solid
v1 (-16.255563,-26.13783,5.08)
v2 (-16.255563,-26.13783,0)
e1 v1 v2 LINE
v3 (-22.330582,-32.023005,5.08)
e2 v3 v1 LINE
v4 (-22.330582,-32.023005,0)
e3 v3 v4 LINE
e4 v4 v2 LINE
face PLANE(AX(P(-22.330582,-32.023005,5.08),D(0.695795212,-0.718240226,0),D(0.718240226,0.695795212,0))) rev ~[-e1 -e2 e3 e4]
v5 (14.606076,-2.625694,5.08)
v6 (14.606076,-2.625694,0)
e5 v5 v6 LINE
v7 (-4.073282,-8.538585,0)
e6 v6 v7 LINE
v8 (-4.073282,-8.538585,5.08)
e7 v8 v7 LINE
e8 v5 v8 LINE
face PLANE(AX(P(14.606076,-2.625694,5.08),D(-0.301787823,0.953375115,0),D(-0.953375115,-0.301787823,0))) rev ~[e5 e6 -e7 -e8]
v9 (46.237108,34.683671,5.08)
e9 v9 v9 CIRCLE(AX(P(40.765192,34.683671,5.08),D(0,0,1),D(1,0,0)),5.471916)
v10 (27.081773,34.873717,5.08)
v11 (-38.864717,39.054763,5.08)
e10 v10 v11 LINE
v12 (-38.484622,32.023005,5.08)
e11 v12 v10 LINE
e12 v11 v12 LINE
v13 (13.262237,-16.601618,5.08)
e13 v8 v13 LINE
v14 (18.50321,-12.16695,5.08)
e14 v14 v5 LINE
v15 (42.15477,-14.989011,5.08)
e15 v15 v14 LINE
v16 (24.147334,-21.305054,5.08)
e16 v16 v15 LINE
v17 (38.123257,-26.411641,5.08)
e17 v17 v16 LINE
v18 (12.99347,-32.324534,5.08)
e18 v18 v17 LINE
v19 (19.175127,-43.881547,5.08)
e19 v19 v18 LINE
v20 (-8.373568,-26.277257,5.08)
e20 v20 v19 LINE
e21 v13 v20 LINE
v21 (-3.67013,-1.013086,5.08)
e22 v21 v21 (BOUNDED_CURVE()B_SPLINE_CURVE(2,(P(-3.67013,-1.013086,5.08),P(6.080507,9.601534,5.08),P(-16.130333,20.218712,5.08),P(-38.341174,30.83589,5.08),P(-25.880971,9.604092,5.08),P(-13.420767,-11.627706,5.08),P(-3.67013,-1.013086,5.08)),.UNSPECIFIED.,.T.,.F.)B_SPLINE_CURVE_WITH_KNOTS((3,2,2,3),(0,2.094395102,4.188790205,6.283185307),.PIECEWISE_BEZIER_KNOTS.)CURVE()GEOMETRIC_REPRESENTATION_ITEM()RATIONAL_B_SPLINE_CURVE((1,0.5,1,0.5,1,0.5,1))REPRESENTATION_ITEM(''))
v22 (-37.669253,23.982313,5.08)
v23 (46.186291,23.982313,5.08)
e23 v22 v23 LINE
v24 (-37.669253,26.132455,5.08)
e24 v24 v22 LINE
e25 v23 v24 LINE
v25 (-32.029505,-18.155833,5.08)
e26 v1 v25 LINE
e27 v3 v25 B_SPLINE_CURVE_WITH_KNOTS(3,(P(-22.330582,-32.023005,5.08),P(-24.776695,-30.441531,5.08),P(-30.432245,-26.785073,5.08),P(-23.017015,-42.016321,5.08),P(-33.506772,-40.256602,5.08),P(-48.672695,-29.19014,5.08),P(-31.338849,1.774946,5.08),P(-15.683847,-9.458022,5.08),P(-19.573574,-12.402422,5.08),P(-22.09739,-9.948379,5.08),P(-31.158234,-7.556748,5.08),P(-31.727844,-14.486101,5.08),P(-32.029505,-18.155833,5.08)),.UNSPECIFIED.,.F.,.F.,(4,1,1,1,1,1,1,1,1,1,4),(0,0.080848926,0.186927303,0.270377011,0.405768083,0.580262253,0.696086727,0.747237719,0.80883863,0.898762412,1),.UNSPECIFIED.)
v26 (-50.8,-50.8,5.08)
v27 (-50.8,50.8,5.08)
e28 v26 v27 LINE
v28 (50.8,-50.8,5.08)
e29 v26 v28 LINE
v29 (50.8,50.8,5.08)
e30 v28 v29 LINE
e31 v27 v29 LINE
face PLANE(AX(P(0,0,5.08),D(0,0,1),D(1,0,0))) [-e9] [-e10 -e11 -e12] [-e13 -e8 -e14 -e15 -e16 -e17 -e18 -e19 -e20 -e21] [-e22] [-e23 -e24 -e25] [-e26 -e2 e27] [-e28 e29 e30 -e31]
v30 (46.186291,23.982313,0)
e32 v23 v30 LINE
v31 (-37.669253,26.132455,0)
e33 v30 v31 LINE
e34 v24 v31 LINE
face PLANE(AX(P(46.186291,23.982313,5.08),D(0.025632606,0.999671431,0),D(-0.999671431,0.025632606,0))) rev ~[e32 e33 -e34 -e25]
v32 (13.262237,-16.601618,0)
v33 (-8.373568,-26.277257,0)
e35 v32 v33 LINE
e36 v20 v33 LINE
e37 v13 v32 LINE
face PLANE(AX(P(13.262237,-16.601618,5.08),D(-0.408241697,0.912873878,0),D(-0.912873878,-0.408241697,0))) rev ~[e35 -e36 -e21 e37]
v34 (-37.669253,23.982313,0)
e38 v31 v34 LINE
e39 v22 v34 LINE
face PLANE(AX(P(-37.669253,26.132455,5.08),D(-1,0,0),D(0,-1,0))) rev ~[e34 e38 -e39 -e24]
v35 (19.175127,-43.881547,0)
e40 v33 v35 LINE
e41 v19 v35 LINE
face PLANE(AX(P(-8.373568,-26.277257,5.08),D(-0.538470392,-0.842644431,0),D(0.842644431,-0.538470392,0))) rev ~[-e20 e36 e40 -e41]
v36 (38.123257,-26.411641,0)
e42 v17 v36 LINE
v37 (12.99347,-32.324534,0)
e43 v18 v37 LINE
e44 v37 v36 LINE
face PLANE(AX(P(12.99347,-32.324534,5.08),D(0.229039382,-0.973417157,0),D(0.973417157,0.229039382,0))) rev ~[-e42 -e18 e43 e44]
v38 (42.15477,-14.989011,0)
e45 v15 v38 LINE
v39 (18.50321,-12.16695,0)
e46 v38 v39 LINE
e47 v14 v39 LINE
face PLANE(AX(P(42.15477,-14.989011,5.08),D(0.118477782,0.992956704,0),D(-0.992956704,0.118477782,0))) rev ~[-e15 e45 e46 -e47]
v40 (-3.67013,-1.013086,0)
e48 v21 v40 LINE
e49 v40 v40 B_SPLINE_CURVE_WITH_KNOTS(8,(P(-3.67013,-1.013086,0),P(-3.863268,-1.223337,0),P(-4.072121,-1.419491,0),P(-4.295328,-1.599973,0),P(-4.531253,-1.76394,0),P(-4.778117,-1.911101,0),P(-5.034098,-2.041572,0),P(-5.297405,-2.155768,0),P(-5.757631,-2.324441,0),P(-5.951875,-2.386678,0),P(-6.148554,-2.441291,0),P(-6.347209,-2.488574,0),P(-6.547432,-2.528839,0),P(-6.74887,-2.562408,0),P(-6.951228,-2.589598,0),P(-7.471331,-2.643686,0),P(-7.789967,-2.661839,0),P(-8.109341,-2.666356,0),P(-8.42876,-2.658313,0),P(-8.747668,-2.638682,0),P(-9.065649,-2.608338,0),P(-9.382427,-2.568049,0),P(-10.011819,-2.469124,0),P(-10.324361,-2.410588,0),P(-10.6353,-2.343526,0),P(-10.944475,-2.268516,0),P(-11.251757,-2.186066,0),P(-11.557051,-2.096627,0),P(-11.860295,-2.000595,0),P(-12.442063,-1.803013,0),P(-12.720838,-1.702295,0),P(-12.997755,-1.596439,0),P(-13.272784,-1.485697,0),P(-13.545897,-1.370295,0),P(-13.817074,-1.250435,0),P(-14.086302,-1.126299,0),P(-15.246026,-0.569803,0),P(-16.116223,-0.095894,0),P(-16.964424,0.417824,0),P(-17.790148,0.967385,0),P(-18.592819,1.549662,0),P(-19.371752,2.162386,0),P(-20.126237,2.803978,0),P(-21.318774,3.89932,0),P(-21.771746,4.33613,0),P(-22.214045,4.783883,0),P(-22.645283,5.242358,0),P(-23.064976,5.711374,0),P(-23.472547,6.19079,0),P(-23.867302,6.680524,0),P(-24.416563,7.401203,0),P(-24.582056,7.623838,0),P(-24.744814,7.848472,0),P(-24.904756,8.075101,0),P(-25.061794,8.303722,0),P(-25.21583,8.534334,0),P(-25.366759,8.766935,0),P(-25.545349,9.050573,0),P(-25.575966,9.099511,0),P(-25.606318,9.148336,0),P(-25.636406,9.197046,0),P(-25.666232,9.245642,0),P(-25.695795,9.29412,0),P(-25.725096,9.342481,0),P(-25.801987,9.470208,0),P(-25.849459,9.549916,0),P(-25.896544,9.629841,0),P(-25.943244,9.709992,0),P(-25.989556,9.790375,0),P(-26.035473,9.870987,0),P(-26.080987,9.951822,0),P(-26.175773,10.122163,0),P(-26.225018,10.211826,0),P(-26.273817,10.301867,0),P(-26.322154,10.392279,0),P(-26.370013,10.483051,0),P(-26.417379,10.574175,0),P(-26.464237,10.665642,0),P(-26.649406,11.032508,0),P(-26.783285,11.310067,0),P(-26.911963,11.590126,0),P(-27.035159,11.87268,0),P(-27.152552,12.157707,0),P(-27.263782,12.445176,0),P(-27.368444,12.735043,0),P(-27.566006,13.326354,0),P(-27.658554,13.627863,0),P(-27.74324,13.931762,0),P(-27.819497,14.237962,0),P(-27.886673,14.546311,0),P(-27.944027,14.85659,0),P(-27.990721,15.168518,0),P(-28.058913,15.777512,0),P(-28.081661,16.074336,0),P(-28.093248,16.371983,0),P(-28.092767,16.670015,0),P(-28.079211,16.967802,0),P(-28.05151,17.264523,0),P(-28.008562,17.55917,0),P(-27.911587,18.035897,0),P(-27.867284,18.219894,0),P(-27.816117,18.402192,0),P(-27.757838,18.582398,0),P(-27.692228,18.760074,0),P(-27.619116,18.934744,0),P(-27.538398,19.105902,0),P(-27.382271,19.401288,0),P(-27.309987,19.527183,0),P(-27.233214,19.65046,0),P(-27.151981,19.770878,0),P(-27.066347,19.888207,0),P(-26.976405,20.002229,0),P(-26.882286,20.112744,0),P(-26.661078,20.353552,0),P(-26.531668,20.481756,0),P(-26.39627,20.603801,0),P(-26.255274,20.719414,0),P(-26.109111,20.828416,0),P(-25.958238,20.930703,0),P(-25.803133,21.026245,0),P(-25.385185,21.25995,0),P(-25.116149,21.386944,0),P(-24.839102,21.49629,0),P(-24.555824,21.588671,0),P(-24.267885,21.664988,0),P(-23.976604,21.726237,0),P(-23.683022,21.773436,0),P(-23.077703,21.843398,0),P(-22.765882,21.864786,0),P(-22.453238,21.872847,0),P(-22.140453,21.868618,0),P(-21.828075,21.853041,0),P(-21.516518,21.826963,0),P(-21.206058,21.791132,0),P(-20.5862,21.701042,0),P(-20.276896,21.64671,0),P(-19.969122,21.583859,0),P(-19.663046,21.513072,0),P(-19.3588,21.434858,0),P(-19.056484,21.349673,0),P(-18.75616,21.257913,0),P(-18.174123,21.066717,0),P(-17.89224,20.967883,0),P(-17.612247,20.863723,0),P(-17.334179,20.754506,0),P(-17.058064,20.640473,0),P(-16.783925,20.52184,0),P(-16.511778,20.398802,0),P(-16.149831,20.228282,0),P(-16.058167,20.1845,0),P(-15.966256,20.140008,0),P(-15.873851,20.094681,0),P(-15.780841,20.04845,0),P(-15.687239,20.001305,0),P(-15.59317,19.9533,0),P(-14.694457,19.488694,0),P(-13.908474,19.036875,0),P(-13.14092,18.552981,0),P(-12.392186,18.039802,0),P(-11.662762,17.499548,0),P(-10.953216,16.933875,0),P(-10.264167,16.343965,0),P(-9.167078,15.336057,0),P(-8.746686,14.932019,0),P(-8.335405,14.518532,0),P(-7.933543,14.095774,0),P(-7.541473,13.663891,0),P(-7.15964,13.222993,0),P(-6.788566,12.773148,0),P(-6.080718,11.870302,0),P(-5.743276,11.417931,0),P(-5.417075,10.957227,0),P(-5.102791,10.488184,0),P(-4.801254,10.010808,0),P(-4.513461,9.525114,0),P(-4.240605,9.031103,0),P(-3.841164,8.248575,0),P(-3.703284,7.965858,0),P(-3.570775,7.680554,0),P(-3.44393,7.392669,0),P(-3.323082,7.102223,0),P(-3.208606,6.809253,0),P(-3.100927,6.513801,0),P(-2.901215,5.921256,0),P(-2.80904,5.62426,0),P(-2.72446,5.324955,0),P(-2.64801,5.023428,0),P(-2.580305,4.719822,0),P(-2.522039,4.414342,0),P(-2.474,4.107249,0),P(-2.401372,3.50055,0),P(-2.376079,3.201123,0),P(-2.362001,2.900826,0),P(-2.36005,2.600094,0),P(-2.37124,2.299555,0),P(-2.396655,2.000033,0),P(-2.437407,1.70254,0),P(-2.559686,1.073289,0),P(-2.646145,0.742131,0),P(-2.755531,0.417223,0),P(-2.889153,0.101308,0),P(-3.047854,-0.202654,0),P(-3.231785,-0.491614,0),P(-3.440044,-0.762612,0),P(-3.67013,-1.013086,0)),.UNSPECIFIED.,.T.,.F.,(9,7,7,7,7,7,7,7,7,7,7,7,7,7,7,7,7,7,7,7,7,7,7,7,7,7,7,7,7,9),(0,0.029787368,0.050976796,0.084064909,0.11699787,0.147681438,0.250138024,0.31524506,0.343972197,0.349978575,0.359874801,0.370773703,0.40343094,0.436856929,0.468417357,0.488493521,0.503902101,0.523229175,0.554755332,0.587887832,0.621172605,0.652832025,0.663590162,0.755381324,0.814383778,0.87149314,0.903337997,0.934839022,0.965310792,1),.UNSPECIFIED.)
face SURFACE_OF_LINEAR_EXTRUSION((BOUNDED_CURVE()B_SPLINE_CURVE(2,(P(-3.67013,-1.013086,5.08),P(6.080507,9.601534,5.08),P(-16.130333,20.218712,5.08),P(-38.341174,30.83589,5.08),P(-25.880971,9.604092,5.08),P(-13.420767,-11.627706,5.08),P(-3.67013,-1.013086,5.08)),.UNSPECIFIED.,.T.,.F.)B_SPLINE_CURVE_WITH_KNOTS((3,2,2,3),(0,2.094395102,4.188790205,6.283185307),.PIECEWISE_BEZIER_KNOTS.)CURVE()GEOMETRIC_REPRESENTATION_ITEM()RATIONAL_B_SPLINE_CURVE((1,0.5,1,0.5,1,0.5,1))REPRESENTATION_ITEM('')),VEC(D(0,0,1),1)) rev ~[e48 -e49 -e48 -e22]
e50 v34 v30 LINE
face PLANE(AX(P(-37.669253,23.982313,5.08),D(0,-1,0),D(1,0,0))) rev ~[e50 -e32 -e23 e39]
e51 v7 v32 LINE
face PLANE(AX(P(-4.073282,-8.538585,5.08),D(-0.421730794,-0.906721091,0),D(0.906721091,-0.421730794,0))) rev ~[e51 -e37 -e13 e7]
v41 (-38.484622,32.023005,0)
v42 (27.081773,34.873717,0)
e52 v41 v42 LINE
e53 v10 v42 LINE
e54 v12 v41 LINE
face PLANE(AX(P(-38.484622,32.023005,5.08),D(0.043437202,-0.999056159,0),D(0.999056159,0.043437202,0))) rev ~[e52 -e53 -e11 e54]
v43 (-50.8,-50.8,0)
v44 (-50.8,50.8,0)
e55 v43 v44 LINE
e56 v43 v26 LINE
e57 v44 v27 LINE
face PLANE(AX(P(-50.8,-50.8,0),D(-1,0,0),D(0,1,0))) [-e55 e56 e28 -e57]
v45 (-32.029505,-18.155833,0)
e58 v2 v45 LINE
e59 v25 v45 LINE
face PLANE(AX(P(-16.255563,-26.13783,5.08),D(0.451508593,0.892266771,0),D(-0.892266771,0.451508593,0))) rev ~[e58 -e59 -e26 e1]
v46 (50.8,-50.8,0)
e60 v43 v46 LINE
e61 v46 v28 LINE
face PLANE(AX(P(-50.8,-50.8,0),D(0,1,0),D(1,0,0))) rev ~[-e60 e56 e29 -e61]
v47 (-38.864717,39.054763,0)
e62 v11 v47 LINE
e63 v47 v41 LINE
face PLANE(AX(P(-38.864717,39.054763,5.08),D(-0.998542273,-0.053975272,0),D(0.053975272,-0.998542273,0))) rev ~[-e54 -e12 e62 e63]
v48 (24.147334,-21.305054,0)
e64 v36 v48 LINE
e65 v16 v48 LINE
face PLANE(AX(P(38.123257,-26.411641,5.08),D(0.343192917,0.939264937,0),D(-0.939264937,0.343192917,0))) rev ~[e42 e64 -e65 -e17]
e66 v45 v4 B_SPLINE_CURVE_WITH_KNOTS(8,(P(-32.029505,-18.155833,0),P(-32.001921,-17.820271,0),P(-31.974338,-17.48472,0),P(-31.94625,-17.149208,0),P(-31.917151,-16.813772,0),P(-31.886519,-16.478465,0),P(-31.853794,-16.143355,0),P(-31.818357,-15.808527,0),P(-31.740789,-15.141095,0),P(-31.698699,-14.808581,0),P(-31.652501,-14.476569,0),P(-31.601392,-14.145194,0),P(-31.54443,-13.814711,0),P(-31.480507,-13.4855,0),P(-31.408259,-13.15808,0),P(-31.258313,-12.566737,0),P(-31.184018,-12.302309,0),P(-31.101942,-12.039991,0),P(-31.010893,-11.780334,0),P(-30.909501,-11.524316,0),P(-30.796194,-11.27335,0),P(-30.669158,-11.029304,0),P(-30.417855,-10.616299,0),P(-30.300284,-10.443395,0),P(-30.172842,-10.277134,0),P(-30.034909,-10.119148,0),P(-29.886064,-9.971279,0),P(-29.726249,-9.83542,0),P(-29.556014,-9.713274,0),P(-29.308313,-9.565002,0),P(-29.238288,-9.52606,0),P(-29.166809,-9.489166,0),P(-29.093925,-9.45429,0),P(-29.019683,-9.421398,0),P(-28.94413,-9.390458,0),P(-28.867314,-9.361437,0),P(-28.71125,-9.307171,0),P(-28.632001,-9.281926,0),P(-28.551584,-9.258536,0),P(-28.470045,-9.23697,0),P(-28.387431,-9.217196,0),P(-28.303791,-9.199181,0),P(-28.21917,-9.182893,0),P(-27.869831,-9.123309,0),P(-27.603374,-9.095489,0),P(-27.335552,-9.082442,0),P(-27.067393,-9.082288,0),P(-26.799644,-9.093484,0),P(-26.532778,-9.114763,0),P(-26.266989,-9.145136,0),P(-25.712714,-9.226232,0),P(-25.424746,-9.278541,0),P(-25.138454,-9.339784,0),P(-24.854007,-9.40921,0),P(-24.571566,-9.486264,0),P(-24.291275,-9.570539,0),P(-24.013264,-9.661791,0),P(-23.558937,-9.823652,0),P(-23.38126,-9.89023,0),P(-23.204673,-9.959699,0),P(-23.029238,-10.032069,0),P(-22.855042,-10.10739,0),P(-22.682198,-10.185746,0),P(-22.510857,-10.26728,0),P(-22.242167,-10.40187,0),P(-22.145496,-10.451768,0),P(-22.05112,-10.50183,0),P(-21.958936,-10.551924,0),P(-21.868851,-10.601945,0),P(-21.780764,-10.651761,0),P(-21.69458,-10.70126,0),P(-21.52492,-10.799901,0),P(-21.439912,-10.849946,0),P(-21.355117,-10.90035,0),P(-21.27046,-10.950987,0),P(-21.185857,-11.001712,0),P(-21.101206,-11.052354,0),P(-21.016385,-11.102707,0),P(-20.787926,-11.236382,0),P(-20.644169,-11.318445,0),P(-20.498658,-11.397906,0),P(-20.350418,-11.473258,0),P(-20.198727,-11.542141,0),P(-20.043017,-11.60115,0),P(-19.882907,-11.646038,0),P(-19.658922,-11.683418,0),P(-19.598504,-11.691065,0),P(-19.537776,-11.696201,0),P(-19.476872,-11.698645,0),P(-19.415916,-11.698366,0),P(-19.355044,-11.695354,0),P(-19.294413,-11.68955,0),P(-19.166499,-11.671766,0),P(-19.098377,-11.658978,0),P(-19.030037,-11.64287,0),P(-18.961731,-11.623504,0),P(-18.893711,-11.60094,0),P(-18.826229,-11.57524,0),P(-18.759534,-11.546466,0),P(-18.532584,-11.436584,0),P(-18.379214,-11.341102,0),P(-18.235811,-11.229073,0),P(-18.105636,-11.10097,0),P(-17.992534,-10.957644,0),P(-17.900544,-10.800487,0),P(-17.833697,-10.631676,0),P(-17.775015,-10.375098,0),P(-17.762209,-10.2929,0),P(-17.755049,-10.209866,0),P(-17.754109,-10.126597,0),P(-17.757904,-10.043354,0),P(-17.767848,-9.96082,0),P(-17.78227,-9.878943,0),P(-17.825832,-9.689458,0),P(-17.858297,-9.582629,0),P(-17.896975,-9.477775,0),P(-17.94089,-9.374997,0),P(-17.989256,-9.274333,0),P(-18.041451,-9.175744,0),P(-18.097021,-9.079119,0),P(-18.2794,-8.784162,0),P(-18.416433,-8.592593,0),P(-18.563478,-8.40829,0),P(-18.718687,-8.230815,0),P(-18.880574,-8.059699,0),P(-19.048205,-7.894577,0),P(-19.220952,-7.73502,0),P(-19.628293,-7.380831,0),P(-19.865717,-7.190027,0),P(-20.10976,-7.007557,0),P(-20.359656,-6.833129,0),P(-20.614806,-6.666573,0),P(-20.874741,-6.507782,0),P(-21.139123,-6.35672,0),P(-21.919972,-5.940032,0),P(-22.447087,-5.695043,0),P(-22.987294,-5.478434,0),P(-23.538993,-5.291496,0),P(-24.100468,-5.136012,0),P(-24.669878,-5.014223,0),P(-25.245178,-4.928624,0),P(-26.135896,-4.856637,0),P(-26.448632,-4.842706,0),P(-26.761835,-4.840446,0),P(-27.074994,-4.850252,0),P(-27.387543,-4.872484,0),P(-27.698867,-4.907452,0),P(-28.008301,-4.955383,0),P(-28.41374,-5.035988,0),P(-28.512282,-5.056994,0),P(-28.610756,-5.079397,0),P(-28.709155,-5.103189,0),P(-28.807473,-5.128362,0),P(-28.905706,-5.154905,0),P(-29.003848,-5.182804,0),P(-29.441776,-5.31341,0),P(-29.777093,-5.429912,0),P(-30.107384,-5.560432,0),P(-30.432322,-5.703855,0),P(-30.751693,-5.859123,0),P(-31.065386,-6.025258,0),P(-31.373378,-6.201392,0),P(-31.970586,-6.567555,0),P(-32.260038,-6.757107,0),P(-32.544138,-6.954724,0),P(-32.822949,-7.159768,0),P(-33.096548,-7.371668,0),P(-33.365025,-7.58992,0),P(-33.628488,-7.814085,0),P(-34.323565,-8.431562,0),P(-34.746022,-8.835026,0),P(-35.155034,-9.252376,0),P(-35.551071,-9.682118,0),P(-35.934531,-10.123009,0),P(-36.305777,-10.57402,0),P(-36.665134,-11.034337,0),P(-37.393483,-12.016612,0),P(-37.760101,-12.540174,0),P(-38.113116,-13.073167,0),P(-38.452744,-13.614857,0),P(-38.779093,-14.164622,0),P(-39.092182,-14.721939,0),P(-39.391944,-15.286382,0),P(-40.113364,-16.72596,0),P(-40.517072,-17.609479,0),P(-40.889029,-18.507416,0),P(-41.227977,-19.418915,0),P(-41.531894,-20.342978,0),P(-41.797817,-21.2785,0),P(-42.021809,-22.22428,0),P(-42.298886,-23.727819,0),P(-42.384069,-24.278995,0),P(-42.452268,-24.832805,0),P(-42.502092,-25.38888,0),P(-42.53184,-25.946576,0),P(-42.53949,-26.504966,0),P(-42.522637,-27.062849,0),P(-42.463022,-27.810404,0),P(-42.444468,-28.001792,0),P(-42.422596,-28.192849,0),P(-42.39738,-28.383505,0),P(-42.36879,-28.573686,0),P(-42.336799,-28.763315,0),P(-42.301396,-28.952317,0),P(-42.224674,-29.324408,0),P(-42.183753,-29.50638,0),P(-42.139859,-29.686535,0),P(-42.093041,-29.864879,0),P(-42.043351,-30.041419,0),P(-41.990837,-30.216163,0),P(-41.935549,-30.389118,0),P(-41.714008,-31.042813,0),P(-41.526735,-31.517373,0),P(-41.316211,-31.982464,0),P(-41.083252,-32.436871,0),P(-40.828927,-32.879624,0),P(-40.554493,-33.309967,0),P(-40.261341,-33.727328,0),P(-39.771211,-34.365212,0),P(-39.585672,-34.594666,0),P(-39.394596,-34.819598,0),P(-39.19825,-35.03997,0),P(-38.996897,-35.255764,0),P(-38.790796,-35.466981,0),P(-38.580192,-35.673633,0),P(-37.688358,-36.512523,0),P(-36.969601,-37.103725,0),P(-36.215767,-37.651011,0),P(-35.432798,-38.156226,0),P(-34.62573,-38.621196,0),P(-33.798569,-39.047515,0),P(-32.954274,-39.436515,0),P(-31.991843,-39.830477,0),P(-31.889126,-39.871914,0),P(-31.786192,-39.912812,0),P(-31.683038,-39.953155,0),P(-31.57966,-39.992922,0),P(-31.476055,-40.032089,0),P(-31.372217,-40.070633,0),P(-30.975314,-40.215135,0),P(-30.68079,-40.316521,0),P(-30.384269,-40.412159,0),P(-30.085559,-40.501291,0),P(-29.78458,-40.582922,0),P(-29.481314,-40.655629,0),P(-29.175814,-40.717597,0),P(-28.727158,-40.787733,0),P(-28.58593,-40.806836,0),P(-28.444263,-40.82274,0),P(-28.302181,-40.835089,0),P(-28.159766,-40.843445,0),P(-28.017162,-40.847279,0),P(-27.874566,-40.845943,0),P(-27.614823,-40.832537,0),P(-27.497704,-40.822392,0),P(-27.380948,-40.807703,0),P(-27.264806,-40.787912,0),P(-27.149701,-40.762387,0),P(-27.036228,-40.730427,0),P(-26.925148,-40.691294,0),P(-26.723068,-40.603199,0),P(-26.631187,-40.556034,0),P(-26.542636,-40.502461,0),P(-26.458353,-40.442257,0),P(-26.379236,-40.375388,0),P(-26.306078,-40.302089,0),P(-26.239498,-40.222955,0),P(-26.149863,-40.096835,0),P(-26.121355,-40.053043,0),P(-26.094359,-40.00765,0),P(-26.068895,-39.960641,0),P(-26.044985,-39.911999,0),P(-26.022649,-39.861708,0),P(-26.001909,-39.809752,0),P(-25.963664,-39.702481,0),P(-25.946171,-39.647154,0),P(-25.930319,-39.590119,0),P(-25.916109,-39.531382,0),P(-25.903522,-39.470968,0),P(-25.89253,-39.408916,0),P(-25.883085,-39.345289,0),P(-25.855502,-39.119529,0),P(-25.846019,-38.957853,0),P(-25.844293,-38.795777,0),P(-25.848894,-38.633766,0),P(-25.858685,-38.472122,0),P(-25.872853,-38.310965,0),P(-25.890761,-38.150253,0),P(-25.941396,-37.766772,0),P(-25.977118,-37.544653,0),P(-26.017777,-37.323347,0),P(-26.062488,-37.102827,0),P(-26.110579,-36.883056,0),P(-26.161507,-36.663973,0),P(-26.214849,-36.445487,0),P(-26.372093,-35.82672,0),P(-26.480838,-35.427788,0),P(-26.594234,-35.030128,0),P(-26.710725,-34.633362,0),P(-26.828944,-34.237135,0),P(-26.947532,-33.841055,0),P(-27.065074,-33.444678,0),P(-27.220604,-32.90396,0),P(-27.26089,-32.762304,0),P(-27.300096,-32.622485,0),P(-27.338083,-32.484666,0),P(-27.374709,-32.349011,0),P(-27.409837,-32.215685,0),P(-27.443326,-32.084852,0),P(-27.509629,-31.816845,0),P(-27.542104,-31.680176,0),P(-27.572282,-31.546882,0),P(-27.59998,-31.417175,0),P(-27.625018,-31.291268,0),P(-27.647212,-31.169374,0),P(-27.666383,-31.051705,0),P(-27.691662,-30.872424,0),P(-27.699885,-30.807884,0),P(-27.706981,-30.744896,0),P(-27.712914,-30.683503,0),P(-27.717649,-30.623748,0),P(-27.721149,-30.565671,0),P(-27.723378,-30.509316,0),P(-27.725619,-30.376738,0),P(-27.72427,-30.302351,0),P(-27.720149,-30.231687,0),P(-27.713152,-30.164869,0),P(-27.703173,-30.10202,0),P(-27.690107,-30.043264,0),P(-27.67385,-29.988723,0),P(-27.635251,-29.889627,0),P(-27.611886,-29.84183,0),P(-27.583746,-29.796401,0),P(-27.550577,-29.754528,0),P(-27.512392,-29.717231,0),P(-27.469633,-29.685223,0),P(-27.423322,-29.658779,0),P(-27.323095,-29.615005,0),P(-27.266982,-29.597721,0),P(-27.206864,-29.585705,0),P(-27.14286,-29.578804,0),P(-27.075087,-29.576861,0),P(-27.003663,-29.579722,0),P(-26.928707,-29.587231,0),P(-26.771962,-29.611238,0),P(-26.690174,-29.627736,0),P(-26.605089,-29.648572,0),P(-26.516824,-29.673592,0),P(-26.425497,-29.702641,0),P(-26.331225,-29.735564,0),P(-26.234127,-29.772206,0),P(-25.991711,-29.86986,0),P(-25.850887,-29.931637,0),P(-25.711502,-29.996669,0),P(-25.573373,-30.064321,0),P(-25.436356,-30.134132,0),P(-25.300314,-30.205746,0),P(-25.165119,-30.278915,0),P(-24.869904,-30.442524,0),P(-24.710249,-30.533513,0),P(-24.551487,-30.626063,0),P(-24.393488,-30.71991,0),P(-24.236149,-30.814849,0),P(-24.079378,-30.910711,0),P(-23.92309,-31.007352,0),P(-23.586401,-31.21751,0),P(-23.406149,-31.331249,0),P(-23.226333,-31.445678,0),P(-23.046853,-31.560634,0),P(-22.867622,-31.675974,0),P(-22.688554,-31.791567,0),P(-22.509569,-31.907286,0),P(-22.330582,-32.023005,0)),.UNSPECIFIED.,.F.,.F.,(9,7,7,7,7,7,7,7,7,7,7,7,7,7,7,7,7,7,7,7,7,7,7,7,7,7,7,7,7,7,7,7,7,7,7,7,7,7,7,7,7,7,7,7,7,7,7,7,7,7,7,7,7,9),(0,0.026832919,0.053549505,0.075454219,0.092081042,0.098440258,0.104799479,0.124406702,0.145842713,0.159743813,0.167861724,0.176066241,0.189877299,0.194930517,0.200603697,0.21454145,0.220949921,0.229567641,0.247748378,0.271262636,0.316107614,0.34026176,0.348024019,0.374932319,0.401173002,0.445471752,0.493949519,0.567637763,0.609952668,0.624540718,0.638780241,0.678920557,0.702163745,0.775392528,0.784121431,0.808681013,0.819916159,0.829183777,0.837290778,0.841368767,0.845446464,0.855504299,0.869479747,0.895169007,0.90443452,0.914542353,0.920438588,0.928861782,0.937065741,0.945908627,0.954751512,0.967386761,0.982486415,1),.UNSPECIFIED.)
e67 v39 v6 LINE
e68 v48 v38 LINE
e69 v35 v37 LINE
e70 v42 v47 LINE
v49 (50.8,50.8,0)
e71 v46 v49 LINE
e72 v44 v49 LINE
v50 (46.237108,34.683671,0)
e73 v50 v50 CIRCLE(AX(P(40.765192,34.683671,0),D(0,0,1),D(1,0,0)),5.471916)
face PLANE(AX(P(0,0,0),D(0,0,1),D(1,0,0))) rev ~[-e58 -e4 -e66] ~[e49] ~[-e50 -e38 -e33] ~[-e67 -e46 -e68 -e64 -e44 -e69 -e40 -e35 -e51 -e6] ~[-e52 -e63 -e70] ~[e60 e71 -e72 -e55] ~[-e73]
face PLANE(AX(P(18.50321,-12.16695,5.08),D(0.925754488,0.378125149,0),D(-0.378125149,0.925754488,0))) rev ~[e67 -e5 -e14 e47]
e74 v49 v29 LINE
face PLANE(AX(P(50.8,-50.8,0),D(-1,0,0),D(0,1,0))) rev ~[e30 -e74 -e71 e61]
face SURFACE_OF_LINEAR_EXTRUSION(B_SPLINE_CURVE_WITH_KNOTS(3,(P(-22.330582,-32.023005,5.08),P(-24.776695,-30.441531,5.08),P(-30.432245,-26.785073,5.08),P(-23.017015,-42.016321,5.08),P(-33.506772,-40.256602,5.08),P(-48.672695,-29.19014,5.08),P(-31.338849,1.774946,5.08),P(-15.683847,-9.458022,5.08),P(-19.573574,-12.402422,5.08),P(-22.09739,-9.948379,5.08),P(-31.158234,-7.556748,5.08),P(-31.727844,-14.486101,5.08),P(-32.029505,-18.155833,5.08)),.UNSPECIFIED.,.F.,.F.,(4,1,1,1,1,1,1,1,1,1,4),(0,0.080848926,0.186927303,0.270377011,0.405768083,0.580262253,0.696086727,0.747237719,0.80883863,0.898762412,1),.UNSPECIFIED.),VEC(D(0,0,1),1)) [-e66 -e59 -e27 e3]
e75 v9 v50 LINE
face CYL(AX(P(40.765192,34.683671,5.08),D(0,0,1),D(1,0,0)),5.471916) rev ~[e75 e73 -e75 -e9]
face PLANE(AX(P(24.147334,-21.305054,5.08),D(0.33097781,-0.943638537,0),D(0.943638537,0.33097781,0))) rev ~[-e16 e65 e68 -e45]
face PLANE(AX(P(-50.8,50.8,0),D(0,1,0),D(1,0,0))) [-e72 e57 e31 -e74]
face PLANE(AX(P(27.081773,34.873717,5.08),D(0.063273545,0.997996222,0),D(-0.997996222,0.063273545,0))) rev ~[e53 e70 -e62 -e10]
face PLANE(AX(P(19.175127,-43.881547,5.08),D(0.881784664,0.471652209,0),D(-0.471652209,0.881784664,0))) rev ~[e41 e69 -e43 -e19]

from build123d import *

# Parameters (mm, degrees)
F0_W     = 101.6
F0_H     = 101.6
F1_DEPTH = 5.08
F2_R     = 5.4719156686
F3_DEPTH = 5.081


with BuildPart() as f1:
    # F0 (on Top) → F1 (new body)
    with BuildSketch(Plane.XY):
        Rectangle(F0_W, F0_H)
    extrude(amount=F1_DEPTH)

    # F2 (on face) → F3 (cut, through all)
    with BuildSketch(Plane.XY.offset(5.08)):
        Polygon((27.0817726851, 34.8737165332), (-38.8647168875, 39.0547625721), (-38.484621793, 32.0230051875), align=None)
        with Locations((40.7651923597, 34.6836708486)):
            Circle(F2_R)
        with BuildLine():
            Line((-16.2555626604, -26.137830123), (-32.0295053545, -18.1558331397))
            add(Edge.make_bspline(
                [(-22.3305821419, -32.0230051875), (-24.776694532, -30.4415309491), (-30.4322451019, -26.7850728213), (-23.0170150536, -42.0163206237), (-33.506772477, -40.2566021427), (-48.6726949044, -29.1901398912), (-31.3388493358, 1.7749464513), (-15.6838474947, -9.4580217395), (-19.5735741699, -12.4024221896), (-22.0973898256, -9.948379059), (-31.1582344508, -7.5567476487), (-31.7278443457, -14.4861010192), (-32.0295053545, -18.1558331397)],
                knots=[0, 0, 0, 0, 0.0808489264, 0.186927303, 0.2703770111, 0.4057680835, 0.580262253, 0.6960867266, 0.7472377187, 0.8088386302, 0.8987624124, 1, 1, 1, 1], degree=3))
            Line((-22.3305821419, -32.0230051875), (-16.2555626604, -26.137830123))
        make_face()
        Polygon((42.1547703445, -14.9890109897), (18.503209576, -12.1669499204), (14.6060762927, -2.6256944984), (-4.0732817724, -8.5385851562), (13.2622374222, -16.6016183794), (-8.3735678345, -26.2772571295), (19.1751271486, -43.881546706), (12.9934698343, -32.3245339096), (38.1232574582, -26.4116413891), (24.1473335773, -21.3050544262), align=None)
        Polygon((46.1862906814, 23.9823125303), (-37.6692526042, 26.1324550956), (-37.6692526042, 23.9823125303), align=None)
        with BuildLine():
            add(Edge.make_bspline(
                [(-3.670129925, -1.0130857117), (6.0805073529, 9.6015341959), (-16.1303332746, 20.2187122035), (-38.3411739022, 30.8358902112), (-25.8809705525, 9.6040922959), (-13.4207672029, -11.6277056193), (-3.670129925, -1.0130857117)],
                knots=[0, 0, 0, 2.0943951024, 2.0943951024, 4.1887902048, 4.1887902048, 6.2831853072, 6.2831853072, 6.2831853072], degree=2, weights=[1, 0.5, 1, 0.5, 1, 0.5, 1]))
        make_face()
    extrude(amount=-F3_DEPTH, mode=Mode.SUBTRACT)


solid = f1.part
